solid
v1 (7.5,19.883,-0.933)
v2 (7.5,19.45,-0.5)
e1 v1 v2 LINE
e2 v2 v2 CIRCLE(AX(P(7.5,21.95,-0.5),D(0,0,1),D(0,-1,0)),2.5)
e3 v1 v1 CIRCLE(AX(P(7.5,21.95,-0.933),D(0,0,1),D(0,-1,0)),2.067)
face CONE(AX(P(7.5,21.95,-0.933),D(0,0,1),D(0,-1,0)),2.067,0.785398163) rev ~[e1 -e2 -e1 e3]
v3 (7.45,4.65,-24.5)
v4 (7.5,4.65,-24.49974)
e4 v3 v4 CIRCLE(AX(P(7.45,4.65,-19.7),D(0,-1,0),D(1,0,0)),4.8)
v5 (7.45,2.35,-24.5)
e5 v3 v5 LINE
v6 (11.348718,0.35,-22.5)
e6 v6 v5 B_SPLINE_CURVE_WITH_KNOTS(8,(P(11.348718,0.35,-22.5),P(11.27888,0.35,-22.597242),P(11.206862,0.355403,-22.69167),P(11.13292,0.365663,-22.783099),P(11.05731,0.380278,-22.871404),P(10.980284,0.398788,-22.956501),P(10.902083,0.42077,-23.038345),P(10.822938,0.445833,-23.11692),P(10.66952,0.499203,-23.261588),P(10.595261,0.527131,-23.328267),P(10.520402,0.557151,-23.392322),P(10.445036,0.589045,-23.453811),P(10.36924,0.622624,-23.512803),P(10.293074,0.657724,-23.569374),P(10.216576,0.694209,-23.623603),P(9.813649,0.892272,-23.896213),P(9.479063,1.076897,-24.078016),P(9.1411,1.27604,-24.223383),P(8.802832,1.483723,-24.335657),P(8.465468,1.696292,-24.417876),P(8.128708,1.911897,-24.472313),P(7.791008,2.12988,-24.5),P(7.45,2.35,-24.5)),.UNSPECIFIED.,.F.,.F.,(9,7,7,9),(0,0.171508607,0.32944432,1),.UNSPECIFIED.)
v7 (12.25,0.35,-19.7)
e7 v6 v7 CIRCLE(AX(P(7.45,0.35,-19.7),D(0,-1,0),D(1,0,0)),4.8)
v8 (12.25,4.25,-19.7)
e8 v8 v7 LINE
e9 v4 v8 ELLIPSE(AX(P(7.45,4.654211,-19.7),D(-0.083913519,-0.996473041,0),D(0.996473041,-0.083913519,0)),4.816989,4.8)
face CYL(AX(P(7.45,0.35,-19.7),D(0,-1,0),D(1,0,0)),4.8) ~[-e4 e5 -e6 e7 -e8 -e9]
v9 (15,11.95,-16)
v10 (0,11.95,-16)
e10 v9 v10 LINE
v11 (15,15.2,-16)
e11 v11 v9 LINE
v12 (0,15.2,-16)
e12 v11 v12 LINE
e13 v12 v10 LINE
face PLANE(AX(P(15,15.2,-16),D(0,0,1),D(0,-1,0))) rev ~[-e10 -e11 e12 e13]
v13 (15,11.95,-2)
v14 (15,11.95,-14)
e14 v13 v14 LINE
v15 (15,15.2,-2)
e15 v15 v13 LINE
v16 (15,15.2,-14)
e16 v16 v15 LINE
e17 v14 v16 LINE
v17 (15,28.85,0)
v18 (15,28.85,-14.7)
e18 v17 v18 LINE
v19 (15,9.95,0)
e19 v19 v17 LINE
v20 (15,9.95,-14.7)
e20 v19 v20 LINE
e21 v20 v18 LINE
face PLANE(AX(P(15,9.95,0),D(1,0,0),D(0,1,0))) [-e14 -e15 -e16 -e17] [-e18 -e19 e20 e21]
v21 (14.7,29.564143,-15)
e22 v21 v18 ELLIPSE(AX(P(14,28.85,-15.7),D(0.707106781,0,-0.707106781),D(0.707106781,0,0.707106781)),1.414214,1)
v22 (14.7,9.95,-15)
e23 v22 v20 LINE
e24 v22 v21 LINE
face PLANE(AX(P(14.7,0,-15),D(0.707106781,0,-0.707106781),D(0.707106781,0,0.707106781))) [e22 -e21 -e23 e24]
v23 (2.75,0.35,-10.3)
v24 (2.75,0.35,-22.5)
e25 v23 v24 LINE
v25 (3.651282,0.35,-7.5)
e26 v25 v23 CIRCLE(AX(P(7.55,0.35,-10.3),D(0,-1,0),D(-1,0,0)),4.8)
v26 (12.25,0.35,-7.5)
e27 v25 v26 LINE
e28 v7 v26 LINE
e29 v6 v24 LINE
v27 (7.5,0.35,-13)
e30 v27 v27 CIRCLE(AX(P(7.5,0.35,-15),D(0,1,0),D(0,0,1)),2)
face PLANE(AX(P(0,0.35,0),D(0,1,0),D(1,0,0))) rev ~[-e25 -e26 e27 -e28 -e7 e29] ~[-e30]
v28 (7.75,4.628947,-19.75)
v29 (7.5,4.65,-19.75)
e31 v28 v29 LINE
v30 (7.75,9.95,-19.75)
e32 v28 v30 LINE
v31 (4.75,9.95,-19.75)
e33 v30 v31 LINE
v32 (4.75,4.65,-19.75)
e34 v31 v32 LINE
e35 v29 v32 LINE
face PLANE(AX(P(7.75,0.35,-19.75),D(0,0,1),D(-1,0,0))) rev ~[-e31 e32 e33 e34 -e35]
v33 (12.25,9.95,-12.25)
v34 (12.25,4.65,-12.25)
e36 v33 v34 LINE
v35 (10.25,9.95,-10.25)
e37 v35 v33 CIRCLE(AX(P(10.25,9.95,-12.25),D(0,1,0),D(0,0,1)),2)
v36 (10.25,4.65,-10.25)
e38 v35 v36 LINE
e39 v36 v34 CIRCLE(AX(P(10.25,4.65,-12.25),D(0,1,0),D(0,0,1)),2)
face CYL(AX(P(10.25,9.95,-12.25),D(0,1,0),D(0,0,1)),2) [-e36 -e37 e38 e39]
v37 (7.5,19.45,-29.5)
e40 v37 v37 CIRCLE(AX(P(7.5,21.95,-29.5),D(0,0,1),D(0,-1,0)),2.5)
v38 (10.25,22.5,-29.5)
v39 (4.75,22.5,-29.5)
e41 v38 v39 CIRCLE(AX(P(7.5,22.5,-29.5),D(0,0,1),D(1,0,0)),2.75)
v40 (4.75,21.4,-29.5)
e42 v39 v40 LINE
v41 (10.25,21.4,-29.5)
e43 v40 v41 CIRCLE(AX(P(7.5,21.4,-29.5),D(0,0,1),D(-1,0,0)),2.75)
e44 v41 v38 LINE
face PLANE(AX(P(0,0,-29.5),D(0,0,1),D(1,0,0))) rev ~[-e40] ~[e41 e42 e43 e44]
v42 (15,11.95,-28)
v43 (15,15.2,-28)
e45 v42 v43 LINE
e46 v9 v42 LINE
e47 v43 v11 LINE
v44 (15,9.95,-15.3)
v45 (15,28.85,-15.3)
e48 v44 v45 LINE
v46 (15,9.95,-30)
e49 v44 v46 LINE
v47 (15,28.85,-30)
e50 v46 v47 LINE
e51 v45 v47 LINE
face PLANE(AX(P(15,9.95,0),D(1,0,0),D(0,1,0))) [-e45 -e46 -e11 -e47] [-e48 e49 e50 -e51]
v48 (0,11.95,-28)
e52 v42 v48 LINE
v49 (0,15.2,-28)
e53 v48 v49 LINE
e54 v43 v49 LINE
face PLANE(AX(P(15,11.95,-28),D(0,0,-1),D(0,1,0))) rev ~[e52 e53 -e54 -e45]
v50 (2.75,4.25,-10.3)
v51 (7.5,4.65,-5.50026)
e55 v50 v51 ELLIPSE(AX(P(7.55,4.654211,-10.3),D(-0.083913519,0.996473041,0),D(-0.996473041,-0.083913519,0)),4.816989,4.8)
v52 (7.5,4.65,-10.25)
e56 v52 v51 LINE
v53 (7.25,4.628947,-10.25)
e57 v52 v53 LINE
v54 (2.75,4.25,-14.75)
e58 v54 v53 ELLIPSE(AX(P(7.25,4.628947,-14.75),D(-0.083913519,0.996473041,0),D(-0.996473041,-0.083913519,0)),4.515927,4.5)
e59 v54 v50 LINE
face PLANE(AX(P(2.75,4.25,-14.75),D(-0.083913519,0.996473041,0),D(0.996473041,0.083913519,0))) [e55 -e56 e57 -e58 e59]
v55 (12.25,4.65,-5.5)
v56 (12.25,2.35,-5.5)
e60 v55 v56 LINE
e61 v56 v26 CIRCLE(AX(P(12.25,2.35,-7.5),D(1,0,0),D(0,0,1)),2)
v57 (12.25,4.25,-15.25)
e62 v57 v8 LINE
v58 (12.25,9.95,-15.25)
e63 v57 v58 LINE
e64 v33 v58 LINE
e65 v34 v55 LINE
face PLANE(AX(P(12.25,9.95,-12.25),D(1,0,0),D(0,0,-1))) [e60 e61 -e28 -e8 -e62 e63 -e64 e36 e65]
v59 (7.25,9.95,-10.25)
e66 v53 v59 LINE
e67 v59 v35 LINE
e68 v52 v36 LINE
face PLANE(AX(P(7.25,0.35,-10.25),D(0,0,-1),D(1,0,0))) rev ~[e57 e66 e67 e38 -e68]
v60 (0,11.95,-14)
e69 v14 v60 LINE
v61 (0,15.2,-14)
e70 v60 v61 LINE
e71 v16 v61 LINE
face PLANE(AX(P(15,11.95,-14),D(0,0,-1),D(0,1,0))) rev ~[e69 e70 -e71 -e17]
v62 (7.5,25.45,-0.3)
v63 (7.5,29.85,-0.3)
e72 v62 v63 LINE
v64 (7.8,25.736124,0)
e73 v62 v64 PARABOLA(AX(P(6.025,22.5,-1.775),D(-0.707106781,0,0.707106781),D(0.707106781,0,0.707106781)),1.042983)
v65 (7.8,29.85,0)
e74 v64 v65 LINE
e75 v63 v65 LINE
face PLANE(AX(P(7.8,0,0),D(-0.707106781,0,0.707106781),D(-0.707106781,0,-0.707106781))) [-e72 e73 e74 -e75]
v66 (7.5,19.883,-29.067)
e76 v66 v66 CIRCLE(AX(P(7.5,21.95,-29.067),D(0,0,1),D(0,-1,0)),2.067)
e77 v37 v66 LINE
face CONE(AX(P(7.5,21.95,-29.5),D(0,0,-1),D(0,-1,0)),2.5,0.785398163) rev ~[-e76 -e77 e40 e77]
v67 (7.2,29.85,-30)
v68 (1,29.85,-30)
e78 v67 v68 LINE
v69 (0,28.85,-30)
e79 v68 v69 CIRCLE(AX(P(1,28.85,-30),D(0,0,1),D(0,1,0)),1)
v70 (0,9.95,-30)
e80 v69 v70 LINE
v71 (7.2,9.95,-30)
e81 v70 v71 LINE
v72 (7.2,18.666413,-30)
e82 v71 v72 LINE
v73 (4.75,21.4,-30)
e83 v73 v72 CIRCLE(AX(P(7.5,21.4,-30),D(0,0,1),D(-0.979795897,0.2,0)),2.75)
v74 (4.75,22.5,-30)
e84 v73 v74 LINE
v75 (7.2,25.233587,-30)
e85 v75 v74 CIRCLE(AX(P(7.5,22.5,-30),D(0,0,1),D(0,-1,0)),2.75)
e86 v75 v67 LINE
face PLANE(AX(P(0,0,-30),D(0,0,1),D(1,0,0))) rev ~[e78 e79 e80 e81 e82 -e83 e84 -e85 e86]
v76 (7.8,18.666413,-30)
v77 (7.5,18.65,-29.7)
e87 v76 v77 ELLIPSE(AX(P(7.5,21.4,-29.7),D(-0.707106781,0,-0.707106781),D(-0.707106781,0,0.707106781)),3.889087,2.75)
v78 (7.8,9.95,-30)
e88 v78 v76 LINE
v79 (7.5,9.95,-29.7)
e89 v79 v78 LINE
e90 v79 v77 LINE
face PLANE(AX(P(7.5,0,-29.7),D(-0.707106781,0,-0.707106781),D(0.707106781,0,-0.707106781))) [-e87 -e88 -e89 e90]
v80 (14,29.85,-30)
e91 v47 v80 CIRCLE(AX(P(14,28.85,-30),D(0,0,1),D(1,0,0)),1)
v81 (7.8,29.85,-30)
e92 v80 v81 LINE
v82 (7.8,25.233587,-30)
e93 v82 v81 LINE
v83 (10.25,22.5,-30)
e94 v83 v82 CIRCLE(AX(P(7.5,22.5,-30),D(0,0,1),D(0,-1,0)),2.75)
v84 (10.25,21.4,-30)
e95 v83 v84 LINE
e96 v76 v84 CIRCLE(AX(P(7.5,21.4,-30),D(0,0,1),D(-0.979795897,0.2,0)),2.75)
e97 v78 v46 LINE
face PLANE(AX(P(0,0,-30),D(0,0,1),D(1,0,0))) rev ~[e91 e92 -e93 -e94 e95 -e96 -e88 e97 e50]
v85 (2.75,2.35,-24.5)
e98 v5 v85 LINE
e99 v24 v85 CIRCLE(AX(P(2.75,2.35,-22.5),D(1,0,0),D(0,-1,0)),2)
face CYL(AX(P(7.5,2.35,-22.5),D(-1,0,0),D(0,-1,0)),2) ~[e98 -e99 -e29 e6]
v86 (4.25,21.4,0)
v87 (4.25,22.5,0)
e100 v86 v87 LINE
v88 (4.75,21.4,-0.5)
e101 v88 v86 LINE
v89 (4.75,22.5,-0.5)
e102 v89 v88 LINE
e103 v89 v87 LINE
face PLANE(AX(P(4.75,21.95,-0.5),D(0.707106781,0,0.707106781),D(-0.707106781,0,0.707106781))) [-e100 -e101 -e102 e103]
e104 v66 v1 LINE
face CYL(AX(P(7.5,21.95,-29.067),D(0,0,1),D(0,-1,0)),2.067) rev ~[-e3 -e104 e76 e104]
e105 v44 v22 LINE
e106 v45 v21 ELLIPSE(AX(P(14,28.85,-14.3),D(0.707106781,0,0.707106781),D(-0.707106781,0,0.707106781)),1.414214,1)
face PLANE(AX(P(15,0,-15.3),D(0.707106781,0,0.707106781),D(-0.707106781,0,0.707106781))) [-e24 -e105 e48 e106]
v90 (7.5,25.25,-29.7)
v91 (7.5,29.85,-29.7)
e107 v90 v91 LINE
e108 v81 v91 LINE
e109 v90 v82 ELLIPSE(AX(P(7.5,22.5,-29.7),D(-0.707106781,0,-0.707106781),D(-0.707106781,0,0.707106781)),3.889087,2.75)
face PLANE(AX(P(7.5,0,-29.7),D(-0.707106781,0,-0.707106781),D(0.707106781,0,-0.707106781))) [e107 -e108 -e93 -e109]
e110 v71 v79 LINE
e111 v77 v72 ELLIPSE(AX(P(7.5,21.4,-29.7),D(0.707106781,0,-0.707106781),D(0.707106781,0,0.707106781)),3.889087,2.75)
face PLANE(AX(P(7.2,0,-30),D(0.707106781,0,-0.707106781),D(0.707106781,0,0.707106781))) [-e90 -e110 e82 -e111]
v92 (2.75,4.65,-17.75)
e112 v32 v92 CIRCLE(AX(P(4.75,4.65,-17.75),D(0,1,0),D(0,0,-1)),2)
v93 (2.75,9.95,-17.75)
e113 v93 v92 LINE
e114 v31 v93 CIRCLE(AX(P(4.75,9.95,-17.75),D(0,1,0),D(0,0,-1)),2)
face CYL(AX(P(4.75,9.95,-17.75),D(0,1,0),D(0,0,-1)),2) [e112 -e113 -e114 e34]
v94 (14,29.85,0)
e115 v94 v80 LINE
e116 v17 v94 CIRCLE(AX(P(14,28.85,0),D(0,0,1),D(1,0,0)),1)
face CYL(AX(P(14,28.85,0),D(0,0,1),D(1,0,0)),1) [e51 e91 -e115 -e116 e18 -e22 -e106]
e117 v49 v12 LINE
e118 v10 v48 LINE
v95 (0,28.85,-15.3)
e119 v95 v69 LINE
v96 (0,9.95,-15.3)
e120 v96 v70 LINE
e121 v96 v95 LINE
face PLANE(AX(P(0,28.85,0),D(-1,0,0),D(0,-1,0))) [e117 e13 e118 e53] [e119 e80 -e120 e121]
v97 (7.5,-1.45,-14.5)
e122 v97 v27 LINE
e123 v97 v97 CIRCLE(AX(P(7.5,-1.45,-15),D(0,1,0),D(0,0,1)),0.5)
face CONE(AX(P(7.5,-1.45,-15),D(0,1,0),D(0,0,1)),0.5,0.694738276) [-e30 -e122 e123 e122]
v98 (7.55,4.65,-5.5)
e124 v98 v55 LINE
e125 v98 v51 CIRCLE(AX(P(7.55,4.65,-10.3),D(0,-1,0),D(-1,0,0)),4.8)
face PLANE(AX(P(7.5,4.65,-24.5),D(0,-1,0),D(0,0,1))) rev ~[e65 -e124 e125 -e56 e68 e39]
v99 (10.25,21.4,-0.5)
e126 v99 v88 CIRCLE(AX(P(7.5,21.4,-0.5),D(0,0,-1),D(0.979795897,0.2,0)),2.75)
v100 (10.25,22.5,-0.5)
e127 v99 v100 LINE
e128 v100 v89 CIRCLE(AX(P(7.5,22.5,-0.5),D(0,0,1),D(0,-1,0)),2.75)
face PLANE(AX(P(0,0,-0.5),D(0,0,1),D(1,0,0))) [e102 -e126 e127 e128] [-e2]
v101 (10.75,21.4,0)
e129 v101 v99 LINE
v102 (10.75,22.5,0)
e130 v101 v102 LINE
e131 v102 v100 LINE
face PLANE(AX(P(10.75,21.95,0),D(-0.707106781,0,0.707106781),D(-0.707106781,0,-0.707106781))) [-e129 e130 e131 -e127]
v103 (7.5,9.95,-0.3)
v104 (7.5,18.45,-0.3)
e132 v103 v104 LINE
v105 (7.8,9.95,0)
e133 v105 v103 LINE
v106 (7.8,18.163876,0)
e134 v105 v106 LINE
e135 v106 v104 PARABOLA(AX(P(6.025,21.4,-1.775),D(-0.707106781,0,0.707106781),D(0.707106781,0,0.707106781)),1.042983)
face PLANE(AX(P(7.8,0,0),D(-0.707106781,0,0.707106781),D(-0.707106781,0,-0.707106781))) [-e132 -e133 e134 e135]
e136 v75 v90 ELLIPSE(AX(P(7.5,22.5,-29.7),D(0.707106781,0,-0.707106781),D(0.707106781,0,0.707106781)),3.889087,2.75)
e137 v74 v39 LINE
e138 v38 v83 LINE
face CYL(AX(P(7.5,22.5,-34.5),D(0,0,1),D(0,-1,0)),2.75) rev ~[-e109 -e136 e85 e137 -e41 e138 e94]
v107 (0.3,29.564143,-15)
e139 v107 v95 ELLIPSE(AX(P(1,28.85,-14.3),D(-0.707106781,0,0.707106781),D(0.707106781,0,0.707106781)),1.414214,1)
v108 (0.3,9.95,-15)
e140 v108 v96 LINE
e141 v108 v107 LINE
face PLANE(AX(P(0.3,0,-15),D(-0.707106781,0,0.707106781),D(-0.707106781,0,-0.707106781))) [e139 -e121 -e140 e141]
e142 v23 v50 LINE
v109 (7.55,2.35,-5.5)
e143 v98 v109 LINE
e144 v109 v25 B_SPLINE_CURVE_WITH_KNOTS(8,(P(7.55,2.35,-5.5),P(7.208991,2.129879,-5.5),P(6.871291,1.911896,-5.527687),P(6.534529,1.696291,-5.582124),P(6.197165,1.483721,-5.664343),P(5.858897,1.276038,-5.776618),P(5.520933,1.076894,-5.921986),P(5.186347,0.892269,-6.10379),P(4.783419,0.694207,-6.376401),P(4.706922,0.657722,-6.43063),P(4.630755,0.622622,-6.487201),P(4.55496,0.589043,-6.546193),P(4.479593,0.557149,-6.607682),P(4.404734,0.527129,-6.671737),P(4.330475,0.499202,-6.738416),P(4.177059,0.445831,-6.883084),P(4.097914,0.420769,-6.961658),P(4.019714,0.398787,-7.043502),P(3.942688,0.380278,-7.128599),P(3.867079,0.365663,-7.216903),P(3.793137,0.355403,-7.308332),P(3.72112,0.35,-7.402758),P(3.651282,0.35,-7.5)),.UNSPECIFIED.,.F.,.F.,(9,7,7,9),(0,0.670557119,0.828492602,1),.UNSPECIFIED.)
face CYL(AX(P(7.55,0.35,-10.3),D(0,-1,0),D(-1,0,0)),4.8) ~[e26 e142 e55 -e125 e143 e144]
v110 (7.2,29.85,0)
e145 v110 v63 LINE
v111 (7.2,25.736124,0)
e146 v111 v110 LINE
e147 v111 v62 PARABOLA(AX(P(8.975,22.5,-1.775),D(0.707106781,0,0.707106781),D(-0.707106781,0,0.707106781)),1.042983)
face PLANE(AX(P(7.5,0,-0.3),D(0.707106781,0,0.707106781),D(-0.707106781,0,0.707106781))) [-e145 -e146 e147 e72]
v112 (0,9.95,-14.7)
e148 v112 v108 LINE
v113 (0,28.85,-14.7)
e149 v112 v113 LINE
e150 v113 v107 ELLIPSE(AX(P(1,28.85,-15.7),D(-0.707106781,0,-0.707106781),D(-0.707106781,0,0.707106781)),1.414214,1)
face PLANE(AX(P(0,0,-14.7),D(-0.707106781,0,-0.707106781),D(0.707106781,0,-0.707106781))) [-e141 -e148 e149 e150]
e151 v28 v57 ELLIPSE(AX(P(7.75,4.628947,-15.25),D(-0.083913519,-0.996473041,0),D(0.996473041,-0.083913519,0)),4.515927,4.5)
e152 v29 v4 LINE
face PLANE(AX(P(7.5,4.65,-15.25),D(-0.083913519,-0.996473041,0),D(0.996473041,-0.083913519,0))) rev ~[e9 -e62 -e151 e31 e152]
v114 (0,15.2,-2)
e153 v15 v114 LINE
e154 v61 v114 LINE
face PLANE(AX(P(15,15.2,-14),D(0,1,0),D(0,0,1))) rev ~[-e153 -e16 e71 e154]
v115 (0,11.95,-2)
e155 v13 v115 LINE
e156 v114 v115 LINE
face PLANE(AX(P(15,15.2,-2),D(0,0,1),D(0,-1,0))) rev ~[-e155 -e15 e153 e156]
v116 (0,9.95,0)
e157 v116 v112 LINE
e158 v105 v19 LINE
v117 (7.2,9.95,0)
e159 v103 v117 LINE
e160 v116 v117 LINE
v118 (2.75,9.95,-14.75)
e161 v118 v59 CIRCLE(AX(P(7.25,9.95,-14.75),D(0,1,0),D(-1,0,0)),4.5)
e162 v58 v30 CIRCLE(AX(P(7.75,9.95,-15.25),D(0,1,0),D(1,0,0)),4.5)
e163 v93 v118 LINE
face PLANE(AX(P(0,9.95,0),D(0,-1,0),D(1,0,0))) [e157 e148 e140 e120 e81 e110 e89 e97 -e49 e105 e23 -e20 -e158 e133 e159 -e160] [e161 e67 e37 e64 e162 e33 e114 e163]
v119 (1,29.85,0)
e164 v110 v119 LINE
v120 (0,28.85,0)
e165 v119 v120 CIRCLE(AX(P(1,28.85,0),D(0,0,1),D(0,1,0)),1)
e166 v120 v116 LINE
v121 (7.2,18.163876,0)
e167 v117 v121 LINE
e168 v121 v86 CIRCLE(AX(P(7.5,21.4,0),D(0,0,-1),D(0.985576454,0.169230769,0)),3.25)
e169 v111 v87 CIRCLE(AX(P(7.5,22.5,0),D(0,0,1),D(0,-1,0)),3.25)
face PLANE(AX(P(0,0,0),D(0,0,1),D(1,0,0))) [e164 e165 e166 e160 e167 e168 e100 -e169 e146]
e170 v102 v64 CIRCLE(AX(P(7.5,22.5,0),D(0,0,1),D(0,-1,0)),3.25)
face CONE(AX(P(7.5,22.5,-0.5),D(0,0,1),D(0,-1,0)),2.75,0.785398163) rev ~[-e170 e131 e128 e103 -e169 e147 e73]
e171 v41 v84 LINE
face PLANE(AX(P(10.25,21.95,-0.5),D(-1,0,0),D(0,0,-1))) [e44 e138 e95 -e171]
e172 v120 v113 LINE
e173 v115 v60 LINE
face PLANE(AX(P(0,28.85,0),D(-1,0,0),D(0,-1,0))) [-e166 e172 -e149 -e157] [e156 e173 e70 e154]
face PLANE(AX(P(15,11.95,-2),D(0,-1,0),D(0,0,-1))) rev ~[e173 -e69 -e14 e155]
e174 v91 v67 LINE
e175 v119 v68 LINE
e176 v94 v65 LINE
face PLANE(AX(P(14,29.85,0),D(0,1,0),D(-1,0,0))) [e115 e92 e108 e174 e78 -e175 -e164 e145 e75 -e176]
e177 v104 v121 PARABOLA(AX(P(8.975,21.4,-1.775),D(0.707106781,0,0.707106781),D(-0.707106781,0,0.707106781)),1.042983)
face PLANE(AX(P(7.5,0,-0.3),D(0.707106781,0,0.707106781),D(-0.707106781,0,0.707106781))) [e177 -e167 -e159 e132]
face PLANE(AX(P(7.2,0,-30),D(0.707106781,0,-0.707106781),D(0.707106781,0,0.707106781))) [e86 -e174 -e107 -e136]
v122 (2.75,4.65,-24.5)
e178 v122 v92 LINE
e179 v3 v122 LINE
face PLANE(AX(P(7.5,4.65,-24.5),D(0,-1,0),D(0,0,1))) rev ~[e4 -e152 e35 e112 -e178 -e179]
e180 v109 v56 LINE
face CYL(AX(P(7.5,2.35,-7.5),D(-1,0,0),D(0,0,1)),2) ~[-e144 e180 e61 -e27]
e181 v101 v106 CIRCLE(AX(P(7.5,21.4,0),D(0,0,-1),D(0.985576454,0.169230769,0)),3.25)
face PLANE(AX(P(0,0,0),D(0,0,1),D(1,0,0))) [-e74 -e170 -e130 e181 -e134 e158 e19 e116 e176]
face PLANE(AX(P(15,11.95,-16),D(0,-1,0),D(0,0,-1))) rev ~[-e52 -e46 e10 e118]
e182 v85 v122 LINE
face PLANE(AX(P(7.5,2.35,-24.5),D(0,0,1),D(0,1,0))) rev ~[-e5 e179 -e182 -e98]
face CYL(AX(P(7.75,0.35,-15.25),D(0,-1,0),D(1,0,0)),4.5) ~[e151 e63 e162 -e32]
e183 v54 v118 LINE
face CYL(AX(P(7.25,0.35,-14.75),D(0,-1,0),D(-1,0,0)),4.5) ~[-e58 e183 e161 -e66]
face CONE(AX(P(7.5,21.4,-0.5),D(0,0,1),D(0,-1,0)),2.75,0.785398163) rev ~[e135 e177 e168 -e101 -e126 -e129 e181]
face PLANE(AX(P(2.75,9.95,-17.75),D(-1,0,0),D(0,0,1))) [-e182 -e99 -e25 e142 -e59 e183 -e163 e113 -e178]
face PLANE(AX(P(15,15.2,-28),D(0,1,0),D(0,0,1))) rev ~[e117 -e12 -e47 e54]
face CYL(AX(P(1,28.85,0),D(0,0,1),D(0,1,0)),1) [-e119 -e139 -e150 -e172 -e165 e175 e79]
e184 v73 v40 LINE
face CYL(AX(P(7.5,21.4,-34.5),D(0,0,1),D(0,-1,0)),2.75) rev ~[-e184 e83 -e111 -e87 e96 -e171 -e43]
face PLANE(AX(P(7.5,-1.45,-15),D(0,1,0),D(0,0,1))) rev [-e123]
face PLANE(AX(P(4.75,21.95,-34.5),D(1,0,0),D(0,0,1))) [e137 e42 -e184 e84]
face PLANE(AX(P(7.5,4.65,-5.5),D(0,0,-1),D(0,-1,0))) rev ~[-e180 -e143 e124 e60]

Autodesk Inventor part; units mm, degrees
ref_plane "YZ Plane" through (0, 0, 0) normal (1, 0, 0) x (0, 1, 0)
ref_plane "XZ Plane" through (0, 0, 0) normal (0, 1, 0) x (-1, 0, 0)
ref_plane "XY Plane" through (0, 0, 0) normal (0, 0, 1) x (1, 0, 0)
sketch "Sketch_1" plane through (0, 0, 0) normal (0, 0, 1) x (1, 0, 0)
  line L0 (0, 28.85) -> (0, 9.95)
  line L1 (0, 9.95) -> (15, 9.95)
  line L2 (15, 9.95) -> (15, 28.85)
  arc A0 (15, 28.85) -> (14, 29.85) centre (14, 28.85) ccw
  line L3 (14, 29.85) -> (1, 29.85)
  arc A1 (1, 29.85) -> (0, 28.85) centre (1, 28.85) ccw
extrude "Extrusion1" add sketch "Sketch_1" against normal blind 30
sketch "Sketch_6" plane through (7.5, 0, 0) normal (1, 0, 0) x (0, 0, -1)
  line L0 (0, 21.4) -> (35, 21.4)
  line L1 (35, 21.4) -> (35, 18.15)
  line L2 (35, 18.15) -> (34.5, 18.65)
  line L3 (34.5, 18.65) -> (0.5, 18.65)
  line L4 (0.5, 18.65) -> (0, 18.15)
  line L5 (0, 18.15) -> (0, 21.4)
  line L6 (0, 21.4) -> (35, 21.4)
revolve "Revolution1" cut sketch "Sketch_6" angle 360 about axis through (7.5, 21.4, 0) along (0, 0, 1)
sketch "Sketch_4" plane through (7.5, 0, 0) normal (1, 0, 0) x (0, 0, -1)
  line L0 (0, 22.5) -> (35, 22.5)
  line L1 (35, 22.5) -> (35, 19.25)
  line L2 (35, 19.25) -> (34.5, 19.75)
  line L3 (34.5, 19.75) -> (0.5, 19.75)
  line L4 (0.5, 19.75) -> (0, 19.25)
  line L5 (0, 19.25) -> (0, 22.5)
  line L6 (0, 22.5) -> (35, 22.5)
revolve "Revolution2" cut sketch "Sketch_4" angle 360 about axis through (7.5, 22.5, 0) along (0, 0, 1)
sketch "Sketch_8" plane through (0, 21.95, 0) normal (0, 1, 0) x (1, 0, 0)
  line L0 (4.25, 0) -> (10.75, 0)
  line L1 (10.75, 0) -> (10.25, 0.5)
  line L2 (10.25, 0.5) -> (10.25, 34.5)
  line L3 (10.25, 34.5) -> (10.75, 35)
  line L4 (10.75, 35) -> (4.25, 35)
  line L5 (4.25, 35) -> (4.75, 34.5)
  line L6 (4.75, 34.5) -> (4.75, 0.5)
  line L7 (4.75, 0.5) -> (4.25, 0)
extrude "Extrusion2" cut sketch "Sketch_8" along normal mid plane 1.1
sketch "Sketch_10" plane through (0, 0, -0.5) normal (0, 0, 1) x (1, 0, 0)
  arc A0 (4.75, 21.4) -> (10.25, 21.4) centre (7.5, 21.4) ccw
  line L0 (10.25, 21.4) -> (10.25, 22.5)
  arc A1 (10.25, 22.5) -> (4.75, 22.5) centre (7.5, 22.5) ccw
  line L1 (4.75, 22.5) -> (4.75, 21.4)
extrude "Extrusion3" add sketch "Sketch_10" against normal blind 29
sketch "Sketch_11" plane through (7.5, 0, 0) normal (1, 0, 0) x (0, 0, -1)
  line L0 (0.5, 21.95) -> (29.5, 21.95)
  line L1 (29.5, 21.95) -> (29.5, 19.45)
  line L2 (29.5, 19.45) -> (29.067, 19.883)
  line L3 (29.067, 19.883) -> (0.933, 19.883)
  line L4 (0.933, 19.883) -> (0.5, 19.45)
  line L5 (0.5, 19.45) -> (0.5, 21.95)
  line L6 (0.5, 21.95) -> (29.5, 21.95)
revolve "Revolution3" cut sketch "Sketch_11" angle 360 about axis through (7.5, 21.95, -0.5) along (0, 0, 1)
thread "Thread1" size "M5x0.8" class "6H" standard "ISO Metric profile" full length
sketch "_____2" plane through (0, 9.95, 0) normal (0, 1, 0) x (1, 0, 0)
  line L0 (2.75, 17.75) -> (2.75, 14.75)
  arc A0 (2.75, 14.75) -> (7.25, 10.25) centre (7.25, 14.75) ccw
  line L1 (7.25, 10.25) -> (10.25, 10.25)
  arc A1 (10.25, 10.25) -> (12.25, 12.25) centre (10.25, 12.25) ccw
  line L2 (12.25, 12.25) -> (12.25, 15.25)
  arc A2 (12.25, 15.25) -> (7.75, 19.75) centre (7.75, 15.25) ccw
  line L3 (7.75, 19.75) -> (4.75, 19.75)
  arc A3 (4.75, 19.75) -> (2.75, 17.75) centre (4.75, 17.75) ccw
extrude "Extrusion4" add sketch "_____2" against normal blind 9.6
sketch "_____3" plane through (7.5, 0, 0) normal (1, 0, 0) x (0, 0, -1)
  line L0 (5.5, 4.65) -> (5.5, 2.35)
  arc A0 (5.5, 2.35) -> (7.5, 0.35) centre (7.5, 2.35) ccw
  line L1 (7.5, 0.35) -> (22.5, 0.35)
  arc A1 (22.5, 0.35) -> (24.5, 2.35) centre (22.5, 2.35) ccw
  line L2 (24.5, 2.35) -> (24.5, 4.65)
  line L3 (24.5, 4.65) -> (5.5, 4.65)
extrude "Extrusion5" add sketch "_____3" along normal mid plane 9.5
sketch "_____4" plane through (0, 0, -14.75) normal (0, 0, 1) x (1, 0, 0)
  line L0 (2.75, 4.25) -> (7.5, 4.65)
  line L1 (7.5, 4.65) -> (2.75, 4.65)
  line L2 (2.75, 4.65) -> (2.75, 4.25)
extrude "Extrusion6" cut sketch "_____4" along normal blind 9.5
sketch "_____5" plane through (0, 0, -15.25) normal (0, 0, 1) x (1, 0, 0)
  line L0 (7.5, 4.65) -> (12.25, 4.25)
  line L1 (12.25, 4.25) -> (12.25, 4.65)
  line L2 (12.25, 4.65) -> (7.5, 4.65)
extrude "Extrusion7" cut sketch "_____5" against normal blind 9.5
sketch "_____7" plane through (0, 0.35, 0) normal (0, 1, 0) x (1, 0, 0)
  line L0 (2.75, 17.75) -> (2.75, 14.75)
  arc A0 (2.75, 14.75) -> (7.25, 10.25) centre (7.25, 14.75) ccw
  line L1 (7.25, 10.25) -> (10.25, 10.25)
  arc A1 (10.25, 10.25) -> (12.25, 12.25) centre (10.25, 12.25) ccw
  line L2 (12.25, 12.25) -> (12.25, 15.25)
  arc A2 (12.25, 15.25) -> (7.75, 19.75) centre (7.75, 15.25) ccw
  line L3 (7.75, 19.75) -> (4.75, 19.75)
  arc A3 (4.75, 19.75) -> (2.75, 17.75) centre (4.75, 17.75) ccw
extrude "Extrusion8" add sketch "_____7" along normal blind 4.3
sketch "_____1" plane through (0, 0.35, 0) normal (0, 1, 0) x (1, 0, 0)
  line L0 (-10.5888, -9.9588) -> (25.3573, -9.9588)
  line L1 (25.3573, -9.9588) -> (25.3573, 39.1524)
  line L2 (25.3573, 39.1524) -> (-10.5888, 39.1524)
  line L3 (-10.5888, 39.1524) -> (-10.5888, -9.9588)
  arc A0 (2.75, 10.3) -> (7.55, 5.5) centre (7.55, 10.3) ccw
  line L4 (7.55, 5.5) -> (12.25, 5.5)
  line L5 (12.25, 5.5) -> (12.25, 19.7)
  arc A1 (12.25, 19.7) -> (7.45, 24.5) centre (7.45, 19.7) ccw
  line L6 (7.45, 24.5) -> (2.75, 24.5)
  line L7 (2.75, 24.5) -> (2.75, 10.3)
extrude "Extrusion9" cut sketch "_____1" along normal mid plane 19.2
sketch "Sketch_3" plane through (7.5, 0, 0) normal (1, 0, 0) x (0, 0, -1)
  line L0 (15, 0.35) -> (15, -1.45)
  line L1 (15, -1.45) -> (14.5, -1.45)
  line L2 (14.5, -1.45) -> (13, 0.35)
  line L3 (13, 0.35) -> (15, 0.35)
  line L4 (15, 0.35) -> (15, -1.45)
revolve "Revolution4" add sketch "Sketch_3" angle 360 about axis through (7.5, 0.35, -15) along (0, 1, 0)
sketch "Sketch_7" plane through (15, 0, 0) normal (1, 0, 0) x (0, 0, -1)
  line L0 (2, 15.2) -> (2, 11.95)
  line L1 (2, 11.95) -> (14, 11.95)
  line L2 (14, 11.95) -> (14, 15.2)
  line L3 (14, 15.2) -> (2, 15.2)
extrude "Extrusion10" cut sketch "Sketch_7" against normal blind 15
sketch "Sketch_5" plane through (15, 0, 0) normal (1, 0, 0) x (0, 0, -1)
  line L0 (16, 15.2) -> (16, 11.95)
  line L1 (16, 11.95) -> (28, 11.95)
  line L2 (28, 11.95) -> (28, 15.2)
  line L3 (28, 15.2) -> (16, 15.2)
extrude "Extrusion11" cut sketch "Sketch_5" against normal blind 15
sketch "Sketch_9" plane through (0, 0, 0) normal (0, 1, 0) x (-1, 0, 0)
  line L0 (0, -15.3) -> (0, -14.7)
  line L1 (0, -14.7) -> (-0.3, -15)
  line L2 (-0.3, -15) -> (0, -15.3)
extrude "Extrusion12" cut sketch "Sketch_9" along normal blind 40
sketch "Sketch_15" plane through (0, 0, 0) normal (0, 1, 0) x (-1, 0, 0)
  line L0 (-14.7, -15) -> (-15, -14.7)
  line L1 (-15, -14.7) -> (-15, -15.3)
  line L2 (-15, -15.3) -> (-14.7, -15)
extrude "Extrusion13" cut sketch "Sketch_15" along normal blind 40
sketch "Sketch_16" plane through (0, 0, 0) normal (0, 1, 0) x (-1, 0, 0)
  line L0 (-7.2, 0) -> (-7.8, 0)
  line L1 (-7.8, 0) -> (-7.5, -0.3)
  line L2 (-7.5, -0.3) -> (-7.2, 0)
extrude "Extrusion14" cut sketch "Sketch_16" along normal blind 40
sketch "Sketch_17" plane through (0, 0, 0) normal (0, 1, 0) x (-1, 0, 0)
  line L0 (-7.2, -30) -> (-7.5, -29.7)
  line L1 (-7.5, -29.7) -> (-7.8, -30)
  line L2 (-7.8, -30) -> (-7.2, -30)
extrude "Extrusion15" cut sketch "Sketch_17" along normal blind 50
properties part number "HCBRB8"
